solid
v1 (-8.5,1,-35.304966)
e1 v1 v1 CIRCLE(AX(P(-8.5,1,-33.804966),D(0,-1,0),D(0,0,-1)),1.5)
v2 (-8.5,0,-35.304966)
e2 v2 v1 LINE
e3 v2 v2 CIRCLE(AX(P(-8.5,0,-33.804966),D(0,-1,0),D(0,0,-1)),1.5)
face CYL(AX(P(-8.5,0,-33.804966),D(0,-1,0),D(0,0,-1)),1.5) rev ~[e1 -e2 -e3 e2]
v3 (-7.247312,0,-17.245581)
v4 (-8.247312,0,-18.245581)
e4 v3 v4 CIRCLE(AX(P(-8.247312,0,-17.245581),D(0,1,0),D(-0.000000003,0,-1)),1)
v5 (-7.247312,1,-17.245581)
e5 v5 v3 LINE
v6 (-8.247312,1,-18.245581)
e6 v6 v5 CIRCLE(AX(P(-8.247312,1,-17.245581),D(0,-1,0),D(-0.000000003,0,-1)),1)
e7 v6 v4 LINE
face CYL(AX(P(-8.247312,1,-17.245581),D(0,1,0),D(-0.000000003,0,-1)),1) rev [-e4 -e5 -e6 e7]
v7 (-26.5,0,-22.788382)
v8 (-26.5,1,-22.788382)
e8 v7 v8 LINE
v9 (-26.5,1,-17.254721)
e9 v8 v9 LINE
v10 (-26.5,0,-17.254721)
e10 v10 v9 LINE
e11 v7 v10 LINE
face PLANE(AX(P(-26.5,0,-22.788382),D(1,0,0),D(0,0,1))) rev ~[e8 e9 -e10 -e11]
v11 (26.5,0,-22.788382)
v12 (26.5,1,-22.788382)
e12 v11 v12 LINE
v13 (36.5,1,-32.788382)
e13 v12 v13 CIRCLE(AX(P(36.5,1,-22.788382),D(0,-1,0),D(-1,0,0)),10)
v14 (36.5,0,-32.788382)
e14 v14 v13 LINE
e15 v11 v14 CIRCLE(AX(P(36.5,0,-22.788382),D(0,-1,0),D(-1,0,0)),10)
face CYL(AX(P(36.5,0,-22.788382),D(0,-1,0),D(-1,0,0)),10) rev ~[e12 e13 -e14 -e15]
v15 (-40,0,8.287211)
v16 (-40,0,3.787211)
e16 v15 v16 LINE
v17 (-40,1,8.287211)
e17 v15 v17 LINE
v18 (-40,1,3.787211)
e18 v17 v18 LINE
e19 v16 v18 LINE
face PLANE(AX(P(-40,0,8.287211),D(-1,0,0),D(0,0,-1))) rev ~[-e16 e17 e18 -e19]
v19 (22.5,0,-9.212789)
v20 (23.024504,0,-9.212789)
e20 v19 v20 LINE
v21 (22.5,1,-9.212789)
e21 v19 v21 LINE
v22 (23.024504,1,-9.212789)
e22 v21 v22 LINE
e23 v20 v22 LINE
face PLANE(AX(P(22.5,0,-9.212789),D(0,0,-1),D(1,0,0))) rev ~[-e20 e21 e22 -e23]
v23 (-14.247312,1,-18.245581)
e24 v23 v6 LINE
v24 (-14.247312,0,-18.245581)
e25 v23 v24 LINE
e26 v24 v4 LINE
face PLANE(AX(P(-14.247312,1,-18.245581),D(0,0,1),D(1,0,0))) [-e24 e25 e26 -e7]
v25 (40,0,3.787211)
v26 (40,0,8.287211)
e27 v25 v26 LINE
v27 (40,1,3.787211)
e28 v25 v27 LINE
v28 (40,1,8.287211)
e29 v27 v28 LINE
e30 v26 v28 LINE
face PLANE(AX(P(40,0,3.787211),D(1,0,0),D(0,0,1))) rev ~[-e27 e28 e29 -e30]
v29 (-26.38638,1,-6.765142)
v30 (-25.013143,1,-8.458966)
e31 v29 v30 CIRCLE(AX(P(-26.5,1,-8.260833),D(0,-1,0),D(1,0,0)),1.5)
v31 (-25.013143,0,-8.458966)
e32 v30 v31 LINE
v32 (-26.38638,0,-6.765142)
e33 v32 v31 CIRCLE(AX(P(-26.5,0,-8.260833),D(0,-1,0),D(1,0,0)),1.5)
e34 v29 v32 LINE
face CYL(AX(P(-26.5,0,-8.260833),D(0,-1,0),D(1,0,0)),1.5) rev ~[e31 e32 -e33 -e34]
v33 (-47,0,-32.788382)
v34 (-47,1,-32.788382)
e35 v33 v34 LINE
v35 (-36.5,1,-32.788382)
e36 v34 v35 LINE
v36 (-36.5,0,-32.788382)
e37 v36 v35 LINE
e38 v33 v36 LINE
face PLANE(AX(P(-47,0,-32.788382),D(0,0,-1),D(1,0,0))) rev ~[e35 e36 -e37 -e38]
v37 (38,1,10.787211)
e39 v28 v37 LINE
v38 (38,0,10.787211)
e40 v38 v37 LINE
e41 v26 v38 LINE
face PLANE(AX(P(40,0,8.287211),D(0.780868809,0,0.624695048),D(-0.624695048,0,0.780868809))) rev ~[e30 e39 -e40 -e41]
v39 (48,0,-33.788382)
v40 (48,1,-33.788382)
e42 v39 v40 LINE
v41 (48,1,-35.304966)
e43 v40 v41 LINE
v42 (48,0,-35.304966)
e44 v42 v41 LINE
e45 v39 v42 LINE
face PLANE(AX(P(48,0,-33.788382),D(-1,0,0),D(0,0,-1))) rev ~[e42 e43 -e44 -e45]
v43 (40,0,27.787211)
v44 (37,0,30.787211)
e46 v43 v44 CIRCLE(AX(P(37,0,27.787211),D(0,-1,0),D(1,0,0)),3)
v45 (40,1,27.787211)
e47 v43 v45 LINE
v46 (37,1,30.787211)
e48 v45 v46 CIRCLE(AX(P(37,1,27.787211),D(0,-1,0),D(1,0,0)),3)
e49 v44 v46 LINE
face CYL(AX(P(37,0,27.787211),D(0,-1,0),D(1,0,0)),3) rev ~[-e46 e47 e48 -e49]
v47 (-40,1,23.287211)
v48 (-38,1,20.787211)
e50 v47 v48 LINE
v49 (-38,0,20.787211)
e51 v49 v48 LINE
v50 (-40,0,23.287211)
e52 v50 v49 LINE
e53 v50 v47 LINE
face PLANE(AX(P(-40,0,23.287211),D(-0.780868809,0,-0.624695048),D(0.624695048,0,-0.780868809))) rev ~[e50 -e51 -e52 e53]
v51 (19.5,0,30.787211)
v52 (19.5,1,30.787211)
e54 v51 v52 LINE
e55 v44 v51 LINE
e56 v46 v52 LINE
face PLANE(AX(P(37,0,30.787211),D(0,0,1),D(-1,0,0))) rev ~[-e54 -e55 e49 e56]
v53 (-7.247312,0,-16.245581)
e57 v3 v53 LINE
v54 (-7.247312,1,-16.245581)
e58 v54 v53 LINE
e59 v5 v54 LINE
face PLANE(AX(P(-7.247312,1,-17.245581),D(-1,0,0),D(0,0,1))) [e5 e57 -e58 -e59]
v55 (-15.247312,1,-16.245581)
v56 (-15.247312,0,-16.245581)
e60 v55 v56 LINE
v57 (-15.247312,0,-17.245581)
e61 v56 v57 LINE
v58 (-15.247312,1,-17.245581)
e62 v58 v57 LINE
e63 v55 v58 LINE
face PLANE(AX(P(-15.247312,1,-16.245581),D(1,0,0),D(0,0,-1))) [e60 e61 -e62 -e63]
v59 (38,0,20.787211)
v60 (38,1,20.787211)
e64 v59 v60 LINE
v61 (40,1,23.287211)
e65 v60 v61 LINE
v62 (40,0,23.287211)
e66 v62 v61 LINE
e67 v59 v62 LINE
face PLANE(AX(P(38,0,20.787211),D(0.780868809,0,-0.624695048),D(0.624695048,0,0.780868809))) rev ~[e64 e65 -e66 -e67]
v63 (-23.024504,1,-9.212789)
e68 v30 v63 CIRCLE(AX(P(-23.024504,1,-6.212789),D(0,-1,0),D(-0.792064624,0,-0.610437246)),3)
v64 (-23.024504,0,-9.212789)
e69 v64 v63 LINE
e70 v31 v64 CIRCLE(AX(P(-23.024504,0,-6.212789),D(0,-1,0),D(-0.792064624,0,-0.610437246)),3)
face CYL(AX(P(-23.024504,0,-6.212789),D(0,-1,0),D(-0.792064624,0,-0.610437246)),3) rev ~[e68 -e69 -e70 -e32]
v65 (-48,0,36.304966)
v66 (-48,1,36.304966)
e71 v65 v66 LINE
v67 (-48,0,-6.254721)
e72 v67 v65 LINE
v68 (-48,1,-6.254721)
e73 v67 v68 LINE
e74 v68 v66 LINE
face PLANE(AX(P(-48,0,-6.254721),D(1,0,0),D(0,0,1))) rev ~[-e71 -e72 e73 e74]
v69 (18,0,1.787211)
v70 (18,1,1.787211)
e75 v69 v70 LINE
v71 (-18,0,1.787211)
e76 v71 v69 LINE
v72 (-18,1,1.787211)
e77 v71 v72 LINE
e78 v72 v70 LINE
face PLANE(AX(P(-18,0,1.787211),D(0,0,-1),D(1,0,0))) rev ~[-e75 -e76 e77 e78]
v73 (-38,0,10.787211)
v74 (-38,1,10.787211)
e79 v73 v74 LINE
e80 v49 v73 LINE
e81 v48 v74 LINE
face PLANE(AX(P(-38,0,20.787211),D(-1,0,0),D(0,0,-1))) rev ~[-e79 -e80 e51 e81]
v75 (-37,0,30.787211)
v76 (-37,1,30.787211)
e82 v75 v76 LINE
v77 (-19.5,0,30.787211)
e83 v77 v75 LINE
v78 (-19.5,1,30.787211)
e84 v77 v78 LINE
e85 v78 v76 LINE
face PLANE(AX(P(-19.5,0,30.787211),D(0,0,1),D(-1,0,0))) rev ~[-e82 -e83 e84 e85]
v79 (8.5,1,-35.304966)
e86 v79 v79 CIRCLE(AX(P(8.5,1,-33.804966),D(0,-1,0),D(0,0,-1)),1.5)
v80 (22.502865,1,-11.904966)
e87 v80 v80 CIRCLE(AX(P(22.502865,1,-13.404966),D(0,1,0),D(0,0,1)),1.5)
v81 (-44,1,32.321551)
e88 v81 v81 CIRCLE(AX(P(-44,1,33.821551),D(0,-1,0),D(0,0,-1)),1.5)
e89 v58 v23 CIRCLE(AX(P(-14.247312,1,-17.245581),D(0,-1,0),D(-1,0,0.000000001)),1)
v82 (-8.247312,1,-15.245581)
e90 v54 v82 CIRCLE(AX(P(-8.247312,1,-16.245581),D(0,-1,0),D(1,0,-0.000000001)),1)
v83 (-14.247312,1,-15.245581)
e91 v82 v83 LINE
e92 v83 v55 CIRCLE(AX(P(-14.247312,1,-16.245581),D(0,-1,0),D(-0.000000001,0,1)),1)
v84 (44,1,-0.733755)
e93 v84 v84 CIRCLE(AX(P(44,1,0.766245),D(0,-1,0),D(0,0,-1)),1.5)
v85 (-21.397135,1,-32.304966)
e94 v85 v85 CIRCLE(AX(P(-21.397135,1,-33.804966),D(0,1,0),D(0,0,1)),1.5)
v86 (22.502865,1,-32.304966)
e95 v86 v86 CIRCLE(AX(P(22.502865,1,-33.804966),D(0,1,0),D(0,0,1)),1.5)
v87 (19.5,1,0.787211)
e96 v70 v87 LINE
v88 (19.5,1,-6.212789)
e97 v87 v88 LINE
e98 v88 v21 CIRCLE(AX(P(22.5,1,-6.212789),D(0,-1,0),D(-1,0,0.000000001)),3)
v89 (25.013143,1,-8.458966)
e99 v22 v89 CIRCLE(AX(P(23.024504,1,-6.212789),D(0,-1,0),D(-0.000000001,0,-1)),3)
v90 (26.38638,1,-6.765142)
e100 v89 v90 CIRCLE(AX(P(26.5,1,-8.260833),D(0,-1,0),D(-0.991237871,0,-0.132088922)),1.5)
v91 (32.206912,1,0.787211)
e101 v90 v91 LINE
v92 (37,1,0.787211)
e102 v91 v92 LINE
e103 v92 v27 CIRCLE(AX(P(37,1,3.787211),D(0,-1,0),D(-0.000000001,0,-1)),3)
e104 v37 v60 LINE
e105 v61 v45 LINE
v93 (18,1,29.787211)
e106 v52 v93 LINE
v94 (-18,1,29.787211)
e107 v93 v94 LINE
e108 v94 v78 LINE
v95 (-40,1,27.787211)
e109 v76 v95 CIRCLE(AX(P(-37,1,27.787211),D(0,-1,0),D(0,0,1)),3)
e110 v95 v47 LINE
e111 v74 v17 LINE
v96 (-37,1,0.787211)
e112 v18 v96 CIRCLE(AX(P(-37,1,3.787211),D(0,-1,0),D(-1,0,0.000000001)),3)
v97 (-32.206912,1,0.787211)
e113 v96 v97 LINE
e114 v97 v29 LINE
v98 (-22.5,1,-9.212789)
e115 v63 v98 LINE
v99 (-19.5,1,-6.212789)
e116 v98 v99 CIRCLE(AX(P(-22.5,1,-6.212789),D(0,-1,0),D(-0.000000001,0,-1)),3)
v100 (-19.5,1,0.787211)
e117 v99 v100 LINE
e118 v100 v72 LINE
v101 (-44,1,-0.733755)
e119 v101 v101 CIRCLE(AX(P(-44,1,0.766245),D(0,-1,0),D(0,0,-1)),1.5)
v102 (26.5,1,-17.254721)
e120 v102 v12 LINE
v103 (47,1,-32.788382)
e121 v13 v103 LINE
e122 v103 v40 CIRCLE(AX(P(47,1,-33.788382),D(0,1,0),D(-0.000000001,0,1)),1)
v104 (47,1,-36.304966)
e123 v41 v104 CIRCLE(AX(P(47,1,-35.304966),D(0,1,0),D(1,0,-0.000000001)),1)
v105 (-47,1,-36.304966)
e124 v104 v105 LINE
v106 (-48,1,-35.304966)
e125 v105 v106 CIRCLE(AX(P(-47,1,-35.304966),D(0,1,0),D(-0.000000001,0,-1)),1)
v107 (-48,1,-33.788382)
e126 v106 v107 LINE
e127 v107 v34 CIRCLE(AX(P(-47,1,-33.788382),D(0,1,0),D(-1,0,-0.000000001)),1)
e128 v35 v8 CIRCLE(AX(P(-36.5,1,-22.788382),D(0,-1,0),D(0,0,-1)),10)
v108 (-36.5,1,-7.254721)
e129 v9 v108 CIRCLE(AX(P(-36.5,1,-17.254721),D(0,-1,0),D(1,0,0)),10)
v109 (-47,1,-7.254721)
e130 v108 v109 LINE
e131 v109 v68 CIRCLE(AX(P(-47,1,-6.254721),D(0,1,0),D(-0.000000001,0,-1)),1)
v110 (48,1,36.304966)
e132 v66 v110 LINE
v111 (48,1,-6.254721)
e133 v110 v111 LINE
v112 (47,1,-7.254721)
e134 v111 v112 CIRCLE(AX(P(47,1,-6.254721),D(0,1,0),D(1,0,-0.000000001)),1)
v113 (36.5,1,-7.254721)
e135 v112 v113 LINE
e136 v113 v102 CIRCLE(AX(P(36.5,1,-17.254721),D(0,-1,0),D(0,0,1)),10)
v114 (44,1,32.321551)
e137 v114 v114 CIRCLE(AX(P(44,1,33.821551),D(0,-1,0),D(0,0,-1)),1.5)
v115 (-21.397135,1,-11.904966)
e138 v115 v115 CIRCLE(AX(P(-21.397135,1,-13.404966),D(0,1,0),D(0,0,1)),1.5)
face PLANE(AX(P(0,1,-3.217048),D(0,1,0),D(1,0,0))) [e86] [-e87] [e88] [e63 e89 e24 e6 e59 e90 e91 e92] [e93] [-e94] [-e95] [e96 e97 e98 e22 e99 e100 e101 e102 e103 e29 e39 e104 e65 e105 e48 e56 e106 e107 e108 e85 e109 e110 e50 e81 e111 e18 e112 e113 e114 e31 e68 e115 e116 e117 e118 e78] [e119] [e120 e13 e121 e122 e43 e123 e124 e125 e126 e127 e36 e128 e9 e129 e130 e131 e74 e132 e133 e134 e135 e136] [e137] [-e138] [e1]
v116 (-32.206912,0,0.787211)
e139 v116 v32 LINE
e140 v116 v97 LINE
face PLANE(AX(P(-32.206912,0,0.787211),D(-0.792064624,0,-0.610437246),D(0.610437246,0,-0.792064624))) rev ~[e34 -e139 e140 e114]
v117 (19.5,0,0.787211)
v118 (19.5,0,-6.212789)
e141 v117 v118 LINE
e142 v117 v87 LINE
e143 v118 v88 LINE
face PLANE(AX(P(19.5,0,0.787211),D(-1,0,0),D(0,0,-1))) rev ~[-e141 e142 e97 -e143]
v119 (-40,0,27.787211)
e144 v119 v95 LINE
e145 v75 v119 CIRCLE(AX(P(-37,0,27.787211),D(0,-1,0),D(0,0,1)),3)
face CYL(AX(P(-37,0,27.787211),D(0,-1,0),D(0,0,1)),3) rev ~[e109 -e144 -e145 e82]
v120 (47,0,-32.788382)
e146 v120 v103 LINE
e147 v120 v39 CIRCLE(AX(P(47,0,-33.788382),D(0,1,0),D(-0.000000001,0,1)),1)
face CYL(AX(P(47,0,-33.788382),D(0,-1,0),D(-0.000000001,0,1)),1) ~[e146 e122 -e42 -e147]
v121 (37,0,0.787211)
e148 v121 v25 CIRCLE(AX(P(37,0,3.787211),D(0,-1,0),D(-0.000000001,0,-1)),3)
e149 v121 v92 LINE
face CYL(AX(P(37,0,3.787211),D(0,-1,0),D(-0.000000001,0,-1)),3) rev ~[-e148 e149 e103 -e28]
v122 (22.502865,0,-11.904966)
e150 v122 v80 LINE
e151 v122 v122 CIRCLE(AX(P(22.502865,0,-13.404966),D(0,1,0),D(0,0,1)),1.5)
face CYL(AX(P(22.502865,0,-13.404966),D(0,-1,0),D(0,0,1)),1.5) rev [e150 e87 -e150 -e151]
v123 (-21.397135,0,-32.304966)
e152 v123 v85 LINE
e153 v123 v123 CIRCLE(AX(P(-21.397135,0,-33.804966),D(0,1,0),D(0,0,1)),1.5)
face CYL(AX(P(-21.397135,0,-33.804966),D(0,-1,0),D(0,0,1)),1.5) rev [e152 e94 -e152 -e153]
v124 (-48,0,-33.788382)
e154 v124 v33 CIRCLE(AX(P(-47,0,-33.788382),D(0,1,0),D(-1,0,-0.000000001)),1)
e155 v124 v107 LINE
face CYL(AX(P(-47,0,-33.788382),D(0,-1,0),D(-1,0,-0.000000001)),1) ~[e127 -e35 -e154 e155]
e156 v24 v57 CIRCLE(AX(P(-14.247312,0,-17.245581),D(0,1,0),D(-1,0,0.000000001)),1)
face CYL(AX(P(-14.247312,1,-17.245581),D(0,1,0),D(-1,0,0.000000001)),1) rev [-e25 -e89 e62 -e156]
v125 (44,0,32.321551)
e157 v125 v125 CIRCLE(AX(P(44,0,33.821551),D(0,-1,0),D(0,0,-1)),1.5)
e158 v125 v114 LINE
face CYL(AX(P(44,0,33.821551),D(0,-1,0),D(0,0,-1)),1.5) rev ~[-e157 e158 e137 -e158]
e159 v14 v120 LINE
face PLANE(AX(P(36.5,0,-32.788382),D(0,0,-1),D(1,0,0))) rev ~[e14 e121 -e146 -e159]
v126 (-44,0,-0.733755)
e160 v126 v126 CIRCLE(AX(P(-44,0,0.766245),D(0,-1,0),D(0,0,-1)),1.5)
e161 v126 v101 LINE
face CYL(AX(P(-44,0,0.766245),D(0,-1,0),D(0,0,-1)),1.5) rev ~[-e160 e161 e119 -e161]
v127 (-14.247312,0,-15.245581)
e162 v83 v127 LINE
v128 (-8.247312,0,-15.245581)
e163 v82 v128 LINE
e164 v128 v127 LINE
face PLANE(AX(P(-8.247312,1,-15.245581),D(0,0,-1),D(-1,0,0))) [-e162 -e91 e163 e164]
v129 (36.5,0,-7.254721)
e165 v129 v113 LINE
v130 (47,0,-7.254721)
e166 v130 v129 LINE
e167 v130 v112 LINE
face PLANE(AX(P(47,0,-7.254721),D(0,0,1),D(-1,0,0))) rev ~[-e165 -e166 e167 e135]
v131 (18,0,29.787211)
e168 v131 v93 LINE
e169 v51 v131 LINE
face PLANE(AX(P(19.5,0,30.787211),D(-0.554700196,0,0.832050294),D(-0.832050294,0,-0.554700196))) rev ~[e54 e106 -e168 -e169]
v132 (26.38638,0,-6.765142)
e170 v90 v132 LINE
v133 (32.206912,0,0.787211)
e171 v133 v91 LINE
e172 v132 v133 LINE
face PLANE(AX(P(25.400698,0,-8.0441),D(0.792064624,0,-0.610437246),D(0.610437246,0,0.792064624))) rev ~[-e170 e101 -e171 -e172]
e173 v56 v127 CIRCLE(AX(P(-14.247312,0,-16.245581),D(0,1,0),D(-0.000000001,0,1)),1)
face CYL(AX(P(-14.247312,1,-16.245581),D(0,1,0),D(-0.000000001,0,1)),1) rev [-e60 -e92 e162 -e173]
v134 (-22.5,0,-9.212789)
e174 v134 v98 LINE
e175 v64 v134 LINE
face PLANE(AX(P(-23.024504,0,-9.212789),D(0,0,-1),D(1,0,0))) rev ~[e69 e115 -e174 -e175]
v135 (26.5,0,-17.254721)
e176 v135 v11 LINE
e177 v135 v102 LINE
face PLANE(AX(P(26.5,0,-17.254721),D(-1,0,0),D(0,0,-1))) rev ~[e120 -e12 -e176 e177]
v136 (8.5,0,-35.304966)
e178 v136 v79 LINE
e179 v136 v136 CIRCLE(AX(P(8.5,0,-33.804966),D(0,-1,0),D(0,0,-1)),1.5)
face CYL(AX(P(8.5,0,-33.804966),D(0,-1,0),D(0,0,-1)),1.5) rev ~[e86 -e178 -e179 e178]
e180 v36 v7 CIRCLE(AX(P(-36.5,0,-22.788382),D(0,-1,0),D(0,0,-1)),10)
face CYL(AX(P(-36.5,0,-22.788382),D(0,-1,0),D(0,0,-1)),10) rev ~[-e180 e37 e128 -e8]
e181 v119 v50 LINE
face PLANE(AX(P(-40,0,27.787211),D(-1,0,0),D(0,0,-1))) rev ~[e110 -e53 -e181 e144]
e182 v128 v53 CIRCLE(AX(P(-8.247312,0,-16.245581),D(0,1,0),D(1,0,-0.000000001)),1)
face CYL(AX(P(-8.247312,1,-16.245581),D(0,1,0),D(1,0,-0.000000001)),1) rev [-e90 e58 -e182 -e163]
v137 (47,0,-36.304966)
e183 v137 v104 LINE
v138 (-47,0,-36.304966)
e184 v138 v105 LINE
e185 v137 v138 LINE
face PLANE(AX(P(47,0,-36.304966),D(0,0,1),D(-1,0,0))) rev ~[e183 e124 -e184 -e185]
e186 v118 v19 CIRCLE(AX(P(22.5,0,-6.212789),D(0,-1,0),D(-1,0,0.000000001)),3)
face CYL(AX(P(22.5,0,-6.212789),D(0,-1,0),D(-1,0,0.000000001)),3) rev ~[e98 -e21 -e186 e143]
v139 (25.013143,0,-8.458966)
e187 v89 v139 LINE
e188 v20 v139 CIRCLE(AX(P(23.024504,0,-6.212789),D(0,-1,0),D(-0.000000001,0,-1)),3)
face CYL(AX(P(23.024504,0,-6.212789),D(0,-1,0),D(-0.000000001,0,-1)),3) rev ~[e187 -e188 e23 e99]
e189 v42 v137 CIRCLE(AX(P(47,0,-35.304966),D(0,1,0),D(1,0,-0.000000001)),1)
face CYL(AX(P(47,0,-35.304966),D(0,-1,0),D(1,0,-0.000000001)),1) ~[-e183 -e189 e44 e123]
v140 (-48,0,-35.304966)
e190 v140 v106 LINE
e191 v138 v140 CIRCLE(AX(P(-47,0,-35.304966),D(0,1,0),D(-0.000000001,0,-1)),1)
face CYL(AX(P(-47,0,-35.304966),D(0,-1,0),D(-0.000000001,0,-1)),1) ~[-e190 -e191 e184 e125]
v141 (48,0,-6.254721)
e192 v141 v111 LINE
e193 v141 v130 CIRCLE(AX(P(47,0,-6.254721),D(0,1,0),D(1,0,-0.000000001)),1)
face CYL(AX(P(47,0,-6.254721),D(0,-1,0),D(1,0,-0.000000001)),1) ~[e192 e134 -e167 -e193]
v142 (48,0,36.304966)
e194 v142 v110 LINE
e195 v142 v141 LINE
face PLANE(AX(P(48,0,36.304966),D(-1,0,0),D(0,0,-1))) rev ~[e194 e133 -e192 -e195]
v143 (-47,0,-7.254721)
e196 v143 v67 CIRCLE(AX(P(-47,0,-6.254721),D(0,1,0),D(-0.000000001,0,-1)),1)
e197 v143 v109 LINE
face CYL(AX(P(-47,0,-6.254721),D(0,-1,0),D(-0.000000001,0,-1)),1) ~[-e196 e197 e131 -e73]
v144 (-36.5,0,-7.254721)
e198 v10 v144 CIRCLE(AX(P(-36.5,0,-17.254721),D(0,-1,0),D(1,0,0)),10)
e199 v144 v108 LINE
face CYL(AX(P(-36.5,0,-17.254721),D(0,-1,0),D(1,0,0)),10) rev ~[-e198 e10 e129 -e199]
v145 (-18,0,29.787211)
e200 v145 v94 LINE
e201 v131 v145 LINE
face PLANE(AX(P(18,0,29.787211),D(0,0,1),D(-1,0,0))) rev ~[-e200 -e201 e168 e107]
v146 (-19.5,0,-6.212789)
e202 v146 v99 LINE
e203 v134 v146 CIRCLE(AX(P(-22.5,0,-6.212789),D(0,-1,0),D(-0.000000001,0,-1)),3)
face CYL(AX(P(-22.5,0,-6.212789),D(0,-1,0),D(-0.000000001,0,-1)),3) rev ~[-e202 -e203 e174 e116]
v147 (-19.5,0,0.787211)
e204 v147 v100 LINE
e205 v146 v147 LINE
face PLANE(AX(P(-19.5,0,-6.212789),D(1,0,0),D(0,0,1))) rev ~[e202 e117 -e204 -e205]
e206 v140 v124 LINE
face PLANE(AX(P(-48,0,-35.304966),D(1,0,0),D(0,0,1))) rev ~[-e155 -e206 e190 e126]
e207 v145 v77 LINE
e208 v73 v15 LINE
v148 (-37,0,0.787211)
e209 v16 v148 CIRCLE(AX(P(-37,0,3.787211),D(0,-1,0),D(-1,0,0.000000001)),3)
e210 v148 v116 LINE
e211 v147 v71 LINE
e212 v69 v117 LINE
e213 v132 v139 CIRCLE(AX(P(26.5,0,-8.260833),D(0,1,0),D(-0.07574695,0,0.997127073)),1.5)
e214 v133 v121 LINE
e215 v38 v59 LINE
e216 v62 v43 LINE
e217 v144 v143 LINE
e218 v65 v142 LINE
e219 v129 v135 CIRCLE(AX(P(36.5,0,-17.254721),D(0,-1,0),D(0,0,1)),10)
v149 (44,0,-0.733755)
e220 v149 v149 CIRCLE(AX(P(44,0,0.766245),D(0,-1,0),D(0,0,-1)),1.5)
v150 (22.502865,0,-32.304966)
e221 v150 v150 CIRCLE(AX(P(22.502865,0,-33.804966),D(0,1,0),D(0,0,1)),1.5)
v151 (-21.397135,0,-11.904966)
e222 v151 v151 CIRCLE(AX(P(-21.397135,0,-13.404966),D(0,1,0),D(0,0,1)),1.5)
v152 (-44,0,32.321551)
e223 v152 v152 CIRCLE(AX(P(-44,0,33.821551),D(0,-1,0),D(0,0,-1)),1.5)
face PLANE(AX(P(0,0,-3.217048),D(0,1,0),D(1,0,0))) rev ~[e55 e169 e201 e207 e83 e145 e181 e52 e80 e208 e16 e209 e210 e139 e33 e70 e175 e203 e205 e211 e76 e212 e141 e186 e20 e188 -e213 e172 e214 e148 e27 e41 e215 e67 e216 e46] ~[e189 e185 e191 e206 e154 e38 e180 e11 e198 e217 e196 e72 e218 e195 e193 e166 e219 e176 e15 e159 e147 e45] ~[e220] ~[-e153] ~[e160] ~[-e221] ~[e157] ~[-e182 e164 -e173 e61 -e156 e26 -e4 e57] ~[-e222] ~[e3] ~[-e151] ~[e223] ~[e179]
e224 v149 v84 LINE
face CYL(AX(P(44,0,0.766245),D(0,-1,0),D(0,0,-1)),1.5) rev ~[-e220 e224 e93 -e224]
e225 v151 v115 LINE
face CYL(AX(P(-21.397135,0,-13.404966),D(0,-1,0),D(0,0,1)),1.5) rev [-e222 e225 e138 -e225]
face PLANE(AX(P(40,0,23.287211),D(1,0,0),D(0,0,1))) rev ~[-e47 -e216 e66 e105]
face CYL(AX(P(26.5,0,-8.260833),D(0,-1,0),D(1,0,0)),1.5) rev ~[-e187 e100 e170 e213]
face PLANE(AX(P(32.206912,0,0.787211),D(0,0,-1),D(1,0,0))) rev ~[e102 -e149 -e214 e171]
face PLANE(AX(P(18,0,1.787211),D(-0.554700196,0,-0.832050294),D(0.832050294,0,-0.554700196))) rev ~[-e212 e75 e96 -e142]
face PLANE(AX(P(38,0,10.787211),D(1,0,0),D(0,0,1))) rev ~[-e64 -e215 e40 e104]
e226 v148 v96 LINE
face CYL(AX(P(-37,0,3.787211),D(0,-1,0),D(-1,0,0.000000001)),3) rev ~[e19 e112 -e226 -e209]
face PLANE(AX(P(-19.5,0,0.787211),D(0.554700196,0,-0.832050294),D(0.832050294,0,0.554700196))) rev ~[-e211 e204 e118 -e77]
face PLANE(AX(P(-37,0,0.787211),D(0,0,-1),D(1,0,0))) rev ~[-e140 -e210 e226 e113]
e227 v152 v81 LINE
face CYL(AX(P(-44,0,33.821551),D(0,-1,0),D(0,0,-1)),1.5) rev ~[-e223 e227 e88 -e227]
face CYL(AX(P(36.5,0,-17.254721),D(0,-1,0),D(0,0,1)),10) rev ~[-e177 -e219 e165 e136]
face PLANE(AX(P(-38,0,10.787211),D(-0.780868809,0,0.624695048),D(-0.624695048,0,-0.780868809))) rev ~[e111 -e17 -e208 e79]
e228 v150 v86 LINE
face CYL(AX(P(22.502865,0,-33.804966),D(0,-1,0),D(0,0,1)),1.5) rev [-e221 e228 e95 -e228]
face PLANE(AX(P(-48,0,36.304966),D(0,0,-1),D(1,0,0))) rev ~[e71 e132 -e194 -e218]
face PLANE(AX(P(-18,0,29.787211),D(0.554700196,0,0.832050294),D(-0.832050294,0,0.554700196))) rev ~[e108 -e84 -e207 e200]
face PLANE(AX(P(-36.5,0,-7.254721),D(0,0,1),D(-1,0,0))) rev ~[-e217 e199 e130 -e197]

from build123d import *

# Parameters (mm, degrees)
SKETCH_1_R          = 1.5
EXTRUDE_1_DEPTH     = 1
SKETCH_3_R          = 1.5
CUT_EXTRUDE_1_DEPTH = 61.191781662
SKETCH_4_R          = 1.5
CUT_EXTRUDE_2_DEPTH = 61.191781662
CUT_EXTRUDE_3_DEPTH = 61.191781662


with BuildPart() as part:
    # Эскиз1 → Бобышка-Вытянуть1 (new body)
    with BuildSketch(Plane(origin=(0, 0, 0), x_dir=(1, 0, 0), z_dir=(0, 1, 0))):
        with BuildLine():
            Line((-48, -36.304966321), (48, -36.304966321))
            Line((48, -36.304966321), (48, 6.254720986))
            ThreePointArc((48, 6.254720986), (47.707106781, 6.961827767), (47, 7.254720986))
            Line((47, 7.254720986), (36.5, 7.254720986))
            ThreePointArc((36.5, 7.254720986), (29.428932188, 10.183653174), (26.5, 17.254720986))
            Line((26.5, 17.254720986), (26.5, 22.788381883))
            ThreePointArc((26.5, 22.788381883), (29.428932188, 29.859449695), (36.5, 32.788381883))
            Line((36.5, 32.788381883), (47, 32.788381883))
            ThreePointArc((47, 32.788381883), (47.707106781, 33.081275101), (48, 33.788381883))
            Line((48, 33.788381883), (48, 35.304966322))
            ThreePointArc((48, 35.304966322), (47.707106781, 36.012073103), (47, 36.304966322))
            Line((47, 36.304966322), (-47, 36.304966322))
            ThreePointArc((-47, 36.304966322), (-47.707106781, 36.012073103), (-48, 35.304966322))
            Line((-48, 35.304966322), (-48, 33.788381883))
            ThreePointArc((-48, 33.788381883), (-47.707106781, 33.081275101), (-47, 32.788381883))
            Line((-47, 32.788381883), (-36.5, 32.788381883))
            ThreePointArc((-36.5, 32.788381883), (-29.428932188, 29.859449695), (-26.5, 22.788381883))
            Line((-26.5, 22.788381883), (-26.5, 17.254720986))
            ThreePointArc((-26.5, 17.254720986), (-29.428932188, 10.183653174), (-36.5, 7.254720986))
            Line((-36.5, 7.254720986), (-47, 7.254720986))
            ThreePointArc((-47, 7.254720986), (-47.707106781, 6.961827767), (-48, 6.254720986))
            Line((-48, 6.254720986), (-48, -36.304966321))
        make_face()
        with Locations(Location((-21.397134942, 13.404966321, 0), (0, 0, 270))):
            Circle(SKETCH_1_R, mode=Mode.SUBTRACT)
        with Locations(Location((-21.397134942, 33.804966321, 0), (0, 0, 270))):
            Circle(SKETCH_1_R, mode=Mode.SUBTRACT)
        with Locations(Location((22.502865058, 13.404966321, 0), (0, 0, 270))):
            Circle(SKETCH_1_R, mode=Mode.SUBTRACT)
        with Locations(Location((22.502865058, 33.804966321, 0), (0, 0, 270))):
            Circle(SKETCH_1_R, mode=Mode.SUBTRACT)
        with BuildLine():
            Line((-19.5, -0.787211353), (-18, -1.787211353))
            Line((-18, -1.787211353), (18, -1.787211353))
            Line((18, -1.787211353), (19.5, -0.787211353))
            Line((19.5, -0.787211353), (19.5, 6.212788647))
            ThreePointArc((19.5, 6.212788647), (20.378679656, 8.334108991), (22.5, 9.212788647))
            Line((22.5, 9.212788647), (23.024503903, 9.212788647))
            ThreePointArc((23.024503903, 9.212788647), (24.348525199, 8.904807891), (25.400697774, 8.044100386))
            Line((25.400697774, 8.044100386), (32.206912135, -0.787211353))
            Line((32.206912135, -0.787211353), (37, -0.787211353))
            ThreePointArc((37, -0.787211353), (39.121320344, -1.665891009), (40, -3.787211353))
            Line((40, -3.787211353), (40, -8.287211353))
            Line((40, -8.287211353), (38, -10.787211353))
            Line((38, -10.787211353), (38, -20.787211353))
            Line((38, -20.787211353), (40, -23.287211353))
            Line((40, -23.287211353), (40, -27.787211353))
            ThreePointArc((40, -27.787211353), (39.121320344, -29.908531696), (37, -30.787211353))
            Line((37, -30.787211353), (19.5, -30.787211353))
            Line((19.5, -30.787211353), (18, -29.787211353))
            Line((18, -29.787211353), (-18, -29.787211353))
            Line((-18, -29.787211353), (-19.5, -30.787211353))
            Line((-19.5, -30.787211353), (-37, -30.787211353))
            ThreePointArc((-37, -30.787211353), (-39.121320344, -29.908531696), (-40, -27.787211353))
            Line((-40, -27.787211353), (-40, -23.287211353))
            Line((-40, -23.287211353), (-38, -20.787211353))
            Line((-38, -20.787211353), (-38, -10.787211353))
            Line((-38, -10.787211353), (-40, -8.287211353))
            Line((-40, -8.287211353), (-40, -3.787211353))
            ThreePointArc((-40, -3.787211353), (-39.121320344, -1.665891009), (-37, -0.787211353))
            Line((-37, -0.787211353), (-32.206912135, -0.787211353))
            Line((-32.206912135, -0.787211353), (-25.400697774, 8.044100386))
            ThreePointArc((-25.400697774, 8.044100386), (-24.348525199, 8.904807891), (-23.024503903, 9.212788647))
            Line((-23.024503903, 9.212788647), (-22.5, 9.212788647))
            ThreePointArc((-22.5, 9.212788647), (-20.378679656, 8.334108991), (-19.5, 6.212788647))
            Line((-19.5, 6.212788647), (-19.5, -0.787211353))
        make_face(mode=Mode.SUBTRACT)
    extrude(amount=EXTRUDE_1_DEPTH)

    # Эскиз3 → Вырез-Вытянуть1 (cut, through all)
    with BuildSketch(Plane.XZ):
        with Locations(Location((44, 33.82155076, 0), (0, 0, 270))):
            Circle(SKETCH_3_R)
        with Locations(Location((44, 0.766245183, 0), (0, 0, 270))):
            Circle(SKETCH_3_R)
        with Locations(Location((-44, 0.766245183, 0), (0, 0, 270))):
            Circle(SKETCH_3_R)
        with Locations(Location((-44, 33.82155076, 0), (0, 0, 270))):
            Circle(SKETCH_3_R)
    extrude(amount=-CUT_EXTRUDE_1_DEPTH, mode=Mode.SUBTRACT)

    # Эскиз4 → Вырез-Вытянуть2 (cut, through all)
    with BuildSketch(Plane.XZ):
        with Locations((-26.5, -8.260832856)):
            Circle(SKETCH_4_R)
        with Locations(Location((-8.5, -33.804966322, 0), (0, 0, 270))):
            Circle(SKETCH_4_R)
        with Locations(Location((8.5, -33.804966322, 0), (0, 0, 270))):
            Circle(SKETCH_4_R)
        with Locations((26.5, -8.260832856)):
            Circle(SKETCH_4_R)
    extrude(amount=-CUT_EXTRUDE_2_DEPTH, mode=Mode.SUBTRACT)

    # Эскиз6 → Вырез-Вытянуть3 (cut, through all)
    with BuildSketch(Plane(origin=(0, 1, 0), x_dir=(1, 0, 0), z_dir=(0, 1, 0))):
        with BuildLine():
            Line((-14.247312093, 18.245581007), (-8.247312093, 18.245581007))
            ThreePointArc((-8.247312093, 18.245581007), (-7.540205311, 17.952687789), (-7.247312093, 17.245581007))
            Line((-7.247312093, 17.245581007), (-7.247312093, 16.245581007))
            ThreePointArc((-7.247312093, 16.245581007), (-7.540205311, 15.538474226), (-8.247312093, 15.245581007))
            Line((-8.247312093, 15.245581007), (-14.247312093, 15.245581007))
            ThreePointArc((-14.247312093, 15.245581007), (-14.954418874, 15.538474226), (-15.247312093, 16.245581007))
            Line((-15.247312093, 16.245581007), (-15.247312093, 17.245581007))
            ThreePointArc((-15.247312093, 17.245581007), (-14.954418874, 17.952687789), (-14.247312093, 18.245581007))
        make_face()
    extrude(amount=-CUT_EXTRUDE_3_DEPTH, mode=Mode.SUBTRACT)


solid = part.part
